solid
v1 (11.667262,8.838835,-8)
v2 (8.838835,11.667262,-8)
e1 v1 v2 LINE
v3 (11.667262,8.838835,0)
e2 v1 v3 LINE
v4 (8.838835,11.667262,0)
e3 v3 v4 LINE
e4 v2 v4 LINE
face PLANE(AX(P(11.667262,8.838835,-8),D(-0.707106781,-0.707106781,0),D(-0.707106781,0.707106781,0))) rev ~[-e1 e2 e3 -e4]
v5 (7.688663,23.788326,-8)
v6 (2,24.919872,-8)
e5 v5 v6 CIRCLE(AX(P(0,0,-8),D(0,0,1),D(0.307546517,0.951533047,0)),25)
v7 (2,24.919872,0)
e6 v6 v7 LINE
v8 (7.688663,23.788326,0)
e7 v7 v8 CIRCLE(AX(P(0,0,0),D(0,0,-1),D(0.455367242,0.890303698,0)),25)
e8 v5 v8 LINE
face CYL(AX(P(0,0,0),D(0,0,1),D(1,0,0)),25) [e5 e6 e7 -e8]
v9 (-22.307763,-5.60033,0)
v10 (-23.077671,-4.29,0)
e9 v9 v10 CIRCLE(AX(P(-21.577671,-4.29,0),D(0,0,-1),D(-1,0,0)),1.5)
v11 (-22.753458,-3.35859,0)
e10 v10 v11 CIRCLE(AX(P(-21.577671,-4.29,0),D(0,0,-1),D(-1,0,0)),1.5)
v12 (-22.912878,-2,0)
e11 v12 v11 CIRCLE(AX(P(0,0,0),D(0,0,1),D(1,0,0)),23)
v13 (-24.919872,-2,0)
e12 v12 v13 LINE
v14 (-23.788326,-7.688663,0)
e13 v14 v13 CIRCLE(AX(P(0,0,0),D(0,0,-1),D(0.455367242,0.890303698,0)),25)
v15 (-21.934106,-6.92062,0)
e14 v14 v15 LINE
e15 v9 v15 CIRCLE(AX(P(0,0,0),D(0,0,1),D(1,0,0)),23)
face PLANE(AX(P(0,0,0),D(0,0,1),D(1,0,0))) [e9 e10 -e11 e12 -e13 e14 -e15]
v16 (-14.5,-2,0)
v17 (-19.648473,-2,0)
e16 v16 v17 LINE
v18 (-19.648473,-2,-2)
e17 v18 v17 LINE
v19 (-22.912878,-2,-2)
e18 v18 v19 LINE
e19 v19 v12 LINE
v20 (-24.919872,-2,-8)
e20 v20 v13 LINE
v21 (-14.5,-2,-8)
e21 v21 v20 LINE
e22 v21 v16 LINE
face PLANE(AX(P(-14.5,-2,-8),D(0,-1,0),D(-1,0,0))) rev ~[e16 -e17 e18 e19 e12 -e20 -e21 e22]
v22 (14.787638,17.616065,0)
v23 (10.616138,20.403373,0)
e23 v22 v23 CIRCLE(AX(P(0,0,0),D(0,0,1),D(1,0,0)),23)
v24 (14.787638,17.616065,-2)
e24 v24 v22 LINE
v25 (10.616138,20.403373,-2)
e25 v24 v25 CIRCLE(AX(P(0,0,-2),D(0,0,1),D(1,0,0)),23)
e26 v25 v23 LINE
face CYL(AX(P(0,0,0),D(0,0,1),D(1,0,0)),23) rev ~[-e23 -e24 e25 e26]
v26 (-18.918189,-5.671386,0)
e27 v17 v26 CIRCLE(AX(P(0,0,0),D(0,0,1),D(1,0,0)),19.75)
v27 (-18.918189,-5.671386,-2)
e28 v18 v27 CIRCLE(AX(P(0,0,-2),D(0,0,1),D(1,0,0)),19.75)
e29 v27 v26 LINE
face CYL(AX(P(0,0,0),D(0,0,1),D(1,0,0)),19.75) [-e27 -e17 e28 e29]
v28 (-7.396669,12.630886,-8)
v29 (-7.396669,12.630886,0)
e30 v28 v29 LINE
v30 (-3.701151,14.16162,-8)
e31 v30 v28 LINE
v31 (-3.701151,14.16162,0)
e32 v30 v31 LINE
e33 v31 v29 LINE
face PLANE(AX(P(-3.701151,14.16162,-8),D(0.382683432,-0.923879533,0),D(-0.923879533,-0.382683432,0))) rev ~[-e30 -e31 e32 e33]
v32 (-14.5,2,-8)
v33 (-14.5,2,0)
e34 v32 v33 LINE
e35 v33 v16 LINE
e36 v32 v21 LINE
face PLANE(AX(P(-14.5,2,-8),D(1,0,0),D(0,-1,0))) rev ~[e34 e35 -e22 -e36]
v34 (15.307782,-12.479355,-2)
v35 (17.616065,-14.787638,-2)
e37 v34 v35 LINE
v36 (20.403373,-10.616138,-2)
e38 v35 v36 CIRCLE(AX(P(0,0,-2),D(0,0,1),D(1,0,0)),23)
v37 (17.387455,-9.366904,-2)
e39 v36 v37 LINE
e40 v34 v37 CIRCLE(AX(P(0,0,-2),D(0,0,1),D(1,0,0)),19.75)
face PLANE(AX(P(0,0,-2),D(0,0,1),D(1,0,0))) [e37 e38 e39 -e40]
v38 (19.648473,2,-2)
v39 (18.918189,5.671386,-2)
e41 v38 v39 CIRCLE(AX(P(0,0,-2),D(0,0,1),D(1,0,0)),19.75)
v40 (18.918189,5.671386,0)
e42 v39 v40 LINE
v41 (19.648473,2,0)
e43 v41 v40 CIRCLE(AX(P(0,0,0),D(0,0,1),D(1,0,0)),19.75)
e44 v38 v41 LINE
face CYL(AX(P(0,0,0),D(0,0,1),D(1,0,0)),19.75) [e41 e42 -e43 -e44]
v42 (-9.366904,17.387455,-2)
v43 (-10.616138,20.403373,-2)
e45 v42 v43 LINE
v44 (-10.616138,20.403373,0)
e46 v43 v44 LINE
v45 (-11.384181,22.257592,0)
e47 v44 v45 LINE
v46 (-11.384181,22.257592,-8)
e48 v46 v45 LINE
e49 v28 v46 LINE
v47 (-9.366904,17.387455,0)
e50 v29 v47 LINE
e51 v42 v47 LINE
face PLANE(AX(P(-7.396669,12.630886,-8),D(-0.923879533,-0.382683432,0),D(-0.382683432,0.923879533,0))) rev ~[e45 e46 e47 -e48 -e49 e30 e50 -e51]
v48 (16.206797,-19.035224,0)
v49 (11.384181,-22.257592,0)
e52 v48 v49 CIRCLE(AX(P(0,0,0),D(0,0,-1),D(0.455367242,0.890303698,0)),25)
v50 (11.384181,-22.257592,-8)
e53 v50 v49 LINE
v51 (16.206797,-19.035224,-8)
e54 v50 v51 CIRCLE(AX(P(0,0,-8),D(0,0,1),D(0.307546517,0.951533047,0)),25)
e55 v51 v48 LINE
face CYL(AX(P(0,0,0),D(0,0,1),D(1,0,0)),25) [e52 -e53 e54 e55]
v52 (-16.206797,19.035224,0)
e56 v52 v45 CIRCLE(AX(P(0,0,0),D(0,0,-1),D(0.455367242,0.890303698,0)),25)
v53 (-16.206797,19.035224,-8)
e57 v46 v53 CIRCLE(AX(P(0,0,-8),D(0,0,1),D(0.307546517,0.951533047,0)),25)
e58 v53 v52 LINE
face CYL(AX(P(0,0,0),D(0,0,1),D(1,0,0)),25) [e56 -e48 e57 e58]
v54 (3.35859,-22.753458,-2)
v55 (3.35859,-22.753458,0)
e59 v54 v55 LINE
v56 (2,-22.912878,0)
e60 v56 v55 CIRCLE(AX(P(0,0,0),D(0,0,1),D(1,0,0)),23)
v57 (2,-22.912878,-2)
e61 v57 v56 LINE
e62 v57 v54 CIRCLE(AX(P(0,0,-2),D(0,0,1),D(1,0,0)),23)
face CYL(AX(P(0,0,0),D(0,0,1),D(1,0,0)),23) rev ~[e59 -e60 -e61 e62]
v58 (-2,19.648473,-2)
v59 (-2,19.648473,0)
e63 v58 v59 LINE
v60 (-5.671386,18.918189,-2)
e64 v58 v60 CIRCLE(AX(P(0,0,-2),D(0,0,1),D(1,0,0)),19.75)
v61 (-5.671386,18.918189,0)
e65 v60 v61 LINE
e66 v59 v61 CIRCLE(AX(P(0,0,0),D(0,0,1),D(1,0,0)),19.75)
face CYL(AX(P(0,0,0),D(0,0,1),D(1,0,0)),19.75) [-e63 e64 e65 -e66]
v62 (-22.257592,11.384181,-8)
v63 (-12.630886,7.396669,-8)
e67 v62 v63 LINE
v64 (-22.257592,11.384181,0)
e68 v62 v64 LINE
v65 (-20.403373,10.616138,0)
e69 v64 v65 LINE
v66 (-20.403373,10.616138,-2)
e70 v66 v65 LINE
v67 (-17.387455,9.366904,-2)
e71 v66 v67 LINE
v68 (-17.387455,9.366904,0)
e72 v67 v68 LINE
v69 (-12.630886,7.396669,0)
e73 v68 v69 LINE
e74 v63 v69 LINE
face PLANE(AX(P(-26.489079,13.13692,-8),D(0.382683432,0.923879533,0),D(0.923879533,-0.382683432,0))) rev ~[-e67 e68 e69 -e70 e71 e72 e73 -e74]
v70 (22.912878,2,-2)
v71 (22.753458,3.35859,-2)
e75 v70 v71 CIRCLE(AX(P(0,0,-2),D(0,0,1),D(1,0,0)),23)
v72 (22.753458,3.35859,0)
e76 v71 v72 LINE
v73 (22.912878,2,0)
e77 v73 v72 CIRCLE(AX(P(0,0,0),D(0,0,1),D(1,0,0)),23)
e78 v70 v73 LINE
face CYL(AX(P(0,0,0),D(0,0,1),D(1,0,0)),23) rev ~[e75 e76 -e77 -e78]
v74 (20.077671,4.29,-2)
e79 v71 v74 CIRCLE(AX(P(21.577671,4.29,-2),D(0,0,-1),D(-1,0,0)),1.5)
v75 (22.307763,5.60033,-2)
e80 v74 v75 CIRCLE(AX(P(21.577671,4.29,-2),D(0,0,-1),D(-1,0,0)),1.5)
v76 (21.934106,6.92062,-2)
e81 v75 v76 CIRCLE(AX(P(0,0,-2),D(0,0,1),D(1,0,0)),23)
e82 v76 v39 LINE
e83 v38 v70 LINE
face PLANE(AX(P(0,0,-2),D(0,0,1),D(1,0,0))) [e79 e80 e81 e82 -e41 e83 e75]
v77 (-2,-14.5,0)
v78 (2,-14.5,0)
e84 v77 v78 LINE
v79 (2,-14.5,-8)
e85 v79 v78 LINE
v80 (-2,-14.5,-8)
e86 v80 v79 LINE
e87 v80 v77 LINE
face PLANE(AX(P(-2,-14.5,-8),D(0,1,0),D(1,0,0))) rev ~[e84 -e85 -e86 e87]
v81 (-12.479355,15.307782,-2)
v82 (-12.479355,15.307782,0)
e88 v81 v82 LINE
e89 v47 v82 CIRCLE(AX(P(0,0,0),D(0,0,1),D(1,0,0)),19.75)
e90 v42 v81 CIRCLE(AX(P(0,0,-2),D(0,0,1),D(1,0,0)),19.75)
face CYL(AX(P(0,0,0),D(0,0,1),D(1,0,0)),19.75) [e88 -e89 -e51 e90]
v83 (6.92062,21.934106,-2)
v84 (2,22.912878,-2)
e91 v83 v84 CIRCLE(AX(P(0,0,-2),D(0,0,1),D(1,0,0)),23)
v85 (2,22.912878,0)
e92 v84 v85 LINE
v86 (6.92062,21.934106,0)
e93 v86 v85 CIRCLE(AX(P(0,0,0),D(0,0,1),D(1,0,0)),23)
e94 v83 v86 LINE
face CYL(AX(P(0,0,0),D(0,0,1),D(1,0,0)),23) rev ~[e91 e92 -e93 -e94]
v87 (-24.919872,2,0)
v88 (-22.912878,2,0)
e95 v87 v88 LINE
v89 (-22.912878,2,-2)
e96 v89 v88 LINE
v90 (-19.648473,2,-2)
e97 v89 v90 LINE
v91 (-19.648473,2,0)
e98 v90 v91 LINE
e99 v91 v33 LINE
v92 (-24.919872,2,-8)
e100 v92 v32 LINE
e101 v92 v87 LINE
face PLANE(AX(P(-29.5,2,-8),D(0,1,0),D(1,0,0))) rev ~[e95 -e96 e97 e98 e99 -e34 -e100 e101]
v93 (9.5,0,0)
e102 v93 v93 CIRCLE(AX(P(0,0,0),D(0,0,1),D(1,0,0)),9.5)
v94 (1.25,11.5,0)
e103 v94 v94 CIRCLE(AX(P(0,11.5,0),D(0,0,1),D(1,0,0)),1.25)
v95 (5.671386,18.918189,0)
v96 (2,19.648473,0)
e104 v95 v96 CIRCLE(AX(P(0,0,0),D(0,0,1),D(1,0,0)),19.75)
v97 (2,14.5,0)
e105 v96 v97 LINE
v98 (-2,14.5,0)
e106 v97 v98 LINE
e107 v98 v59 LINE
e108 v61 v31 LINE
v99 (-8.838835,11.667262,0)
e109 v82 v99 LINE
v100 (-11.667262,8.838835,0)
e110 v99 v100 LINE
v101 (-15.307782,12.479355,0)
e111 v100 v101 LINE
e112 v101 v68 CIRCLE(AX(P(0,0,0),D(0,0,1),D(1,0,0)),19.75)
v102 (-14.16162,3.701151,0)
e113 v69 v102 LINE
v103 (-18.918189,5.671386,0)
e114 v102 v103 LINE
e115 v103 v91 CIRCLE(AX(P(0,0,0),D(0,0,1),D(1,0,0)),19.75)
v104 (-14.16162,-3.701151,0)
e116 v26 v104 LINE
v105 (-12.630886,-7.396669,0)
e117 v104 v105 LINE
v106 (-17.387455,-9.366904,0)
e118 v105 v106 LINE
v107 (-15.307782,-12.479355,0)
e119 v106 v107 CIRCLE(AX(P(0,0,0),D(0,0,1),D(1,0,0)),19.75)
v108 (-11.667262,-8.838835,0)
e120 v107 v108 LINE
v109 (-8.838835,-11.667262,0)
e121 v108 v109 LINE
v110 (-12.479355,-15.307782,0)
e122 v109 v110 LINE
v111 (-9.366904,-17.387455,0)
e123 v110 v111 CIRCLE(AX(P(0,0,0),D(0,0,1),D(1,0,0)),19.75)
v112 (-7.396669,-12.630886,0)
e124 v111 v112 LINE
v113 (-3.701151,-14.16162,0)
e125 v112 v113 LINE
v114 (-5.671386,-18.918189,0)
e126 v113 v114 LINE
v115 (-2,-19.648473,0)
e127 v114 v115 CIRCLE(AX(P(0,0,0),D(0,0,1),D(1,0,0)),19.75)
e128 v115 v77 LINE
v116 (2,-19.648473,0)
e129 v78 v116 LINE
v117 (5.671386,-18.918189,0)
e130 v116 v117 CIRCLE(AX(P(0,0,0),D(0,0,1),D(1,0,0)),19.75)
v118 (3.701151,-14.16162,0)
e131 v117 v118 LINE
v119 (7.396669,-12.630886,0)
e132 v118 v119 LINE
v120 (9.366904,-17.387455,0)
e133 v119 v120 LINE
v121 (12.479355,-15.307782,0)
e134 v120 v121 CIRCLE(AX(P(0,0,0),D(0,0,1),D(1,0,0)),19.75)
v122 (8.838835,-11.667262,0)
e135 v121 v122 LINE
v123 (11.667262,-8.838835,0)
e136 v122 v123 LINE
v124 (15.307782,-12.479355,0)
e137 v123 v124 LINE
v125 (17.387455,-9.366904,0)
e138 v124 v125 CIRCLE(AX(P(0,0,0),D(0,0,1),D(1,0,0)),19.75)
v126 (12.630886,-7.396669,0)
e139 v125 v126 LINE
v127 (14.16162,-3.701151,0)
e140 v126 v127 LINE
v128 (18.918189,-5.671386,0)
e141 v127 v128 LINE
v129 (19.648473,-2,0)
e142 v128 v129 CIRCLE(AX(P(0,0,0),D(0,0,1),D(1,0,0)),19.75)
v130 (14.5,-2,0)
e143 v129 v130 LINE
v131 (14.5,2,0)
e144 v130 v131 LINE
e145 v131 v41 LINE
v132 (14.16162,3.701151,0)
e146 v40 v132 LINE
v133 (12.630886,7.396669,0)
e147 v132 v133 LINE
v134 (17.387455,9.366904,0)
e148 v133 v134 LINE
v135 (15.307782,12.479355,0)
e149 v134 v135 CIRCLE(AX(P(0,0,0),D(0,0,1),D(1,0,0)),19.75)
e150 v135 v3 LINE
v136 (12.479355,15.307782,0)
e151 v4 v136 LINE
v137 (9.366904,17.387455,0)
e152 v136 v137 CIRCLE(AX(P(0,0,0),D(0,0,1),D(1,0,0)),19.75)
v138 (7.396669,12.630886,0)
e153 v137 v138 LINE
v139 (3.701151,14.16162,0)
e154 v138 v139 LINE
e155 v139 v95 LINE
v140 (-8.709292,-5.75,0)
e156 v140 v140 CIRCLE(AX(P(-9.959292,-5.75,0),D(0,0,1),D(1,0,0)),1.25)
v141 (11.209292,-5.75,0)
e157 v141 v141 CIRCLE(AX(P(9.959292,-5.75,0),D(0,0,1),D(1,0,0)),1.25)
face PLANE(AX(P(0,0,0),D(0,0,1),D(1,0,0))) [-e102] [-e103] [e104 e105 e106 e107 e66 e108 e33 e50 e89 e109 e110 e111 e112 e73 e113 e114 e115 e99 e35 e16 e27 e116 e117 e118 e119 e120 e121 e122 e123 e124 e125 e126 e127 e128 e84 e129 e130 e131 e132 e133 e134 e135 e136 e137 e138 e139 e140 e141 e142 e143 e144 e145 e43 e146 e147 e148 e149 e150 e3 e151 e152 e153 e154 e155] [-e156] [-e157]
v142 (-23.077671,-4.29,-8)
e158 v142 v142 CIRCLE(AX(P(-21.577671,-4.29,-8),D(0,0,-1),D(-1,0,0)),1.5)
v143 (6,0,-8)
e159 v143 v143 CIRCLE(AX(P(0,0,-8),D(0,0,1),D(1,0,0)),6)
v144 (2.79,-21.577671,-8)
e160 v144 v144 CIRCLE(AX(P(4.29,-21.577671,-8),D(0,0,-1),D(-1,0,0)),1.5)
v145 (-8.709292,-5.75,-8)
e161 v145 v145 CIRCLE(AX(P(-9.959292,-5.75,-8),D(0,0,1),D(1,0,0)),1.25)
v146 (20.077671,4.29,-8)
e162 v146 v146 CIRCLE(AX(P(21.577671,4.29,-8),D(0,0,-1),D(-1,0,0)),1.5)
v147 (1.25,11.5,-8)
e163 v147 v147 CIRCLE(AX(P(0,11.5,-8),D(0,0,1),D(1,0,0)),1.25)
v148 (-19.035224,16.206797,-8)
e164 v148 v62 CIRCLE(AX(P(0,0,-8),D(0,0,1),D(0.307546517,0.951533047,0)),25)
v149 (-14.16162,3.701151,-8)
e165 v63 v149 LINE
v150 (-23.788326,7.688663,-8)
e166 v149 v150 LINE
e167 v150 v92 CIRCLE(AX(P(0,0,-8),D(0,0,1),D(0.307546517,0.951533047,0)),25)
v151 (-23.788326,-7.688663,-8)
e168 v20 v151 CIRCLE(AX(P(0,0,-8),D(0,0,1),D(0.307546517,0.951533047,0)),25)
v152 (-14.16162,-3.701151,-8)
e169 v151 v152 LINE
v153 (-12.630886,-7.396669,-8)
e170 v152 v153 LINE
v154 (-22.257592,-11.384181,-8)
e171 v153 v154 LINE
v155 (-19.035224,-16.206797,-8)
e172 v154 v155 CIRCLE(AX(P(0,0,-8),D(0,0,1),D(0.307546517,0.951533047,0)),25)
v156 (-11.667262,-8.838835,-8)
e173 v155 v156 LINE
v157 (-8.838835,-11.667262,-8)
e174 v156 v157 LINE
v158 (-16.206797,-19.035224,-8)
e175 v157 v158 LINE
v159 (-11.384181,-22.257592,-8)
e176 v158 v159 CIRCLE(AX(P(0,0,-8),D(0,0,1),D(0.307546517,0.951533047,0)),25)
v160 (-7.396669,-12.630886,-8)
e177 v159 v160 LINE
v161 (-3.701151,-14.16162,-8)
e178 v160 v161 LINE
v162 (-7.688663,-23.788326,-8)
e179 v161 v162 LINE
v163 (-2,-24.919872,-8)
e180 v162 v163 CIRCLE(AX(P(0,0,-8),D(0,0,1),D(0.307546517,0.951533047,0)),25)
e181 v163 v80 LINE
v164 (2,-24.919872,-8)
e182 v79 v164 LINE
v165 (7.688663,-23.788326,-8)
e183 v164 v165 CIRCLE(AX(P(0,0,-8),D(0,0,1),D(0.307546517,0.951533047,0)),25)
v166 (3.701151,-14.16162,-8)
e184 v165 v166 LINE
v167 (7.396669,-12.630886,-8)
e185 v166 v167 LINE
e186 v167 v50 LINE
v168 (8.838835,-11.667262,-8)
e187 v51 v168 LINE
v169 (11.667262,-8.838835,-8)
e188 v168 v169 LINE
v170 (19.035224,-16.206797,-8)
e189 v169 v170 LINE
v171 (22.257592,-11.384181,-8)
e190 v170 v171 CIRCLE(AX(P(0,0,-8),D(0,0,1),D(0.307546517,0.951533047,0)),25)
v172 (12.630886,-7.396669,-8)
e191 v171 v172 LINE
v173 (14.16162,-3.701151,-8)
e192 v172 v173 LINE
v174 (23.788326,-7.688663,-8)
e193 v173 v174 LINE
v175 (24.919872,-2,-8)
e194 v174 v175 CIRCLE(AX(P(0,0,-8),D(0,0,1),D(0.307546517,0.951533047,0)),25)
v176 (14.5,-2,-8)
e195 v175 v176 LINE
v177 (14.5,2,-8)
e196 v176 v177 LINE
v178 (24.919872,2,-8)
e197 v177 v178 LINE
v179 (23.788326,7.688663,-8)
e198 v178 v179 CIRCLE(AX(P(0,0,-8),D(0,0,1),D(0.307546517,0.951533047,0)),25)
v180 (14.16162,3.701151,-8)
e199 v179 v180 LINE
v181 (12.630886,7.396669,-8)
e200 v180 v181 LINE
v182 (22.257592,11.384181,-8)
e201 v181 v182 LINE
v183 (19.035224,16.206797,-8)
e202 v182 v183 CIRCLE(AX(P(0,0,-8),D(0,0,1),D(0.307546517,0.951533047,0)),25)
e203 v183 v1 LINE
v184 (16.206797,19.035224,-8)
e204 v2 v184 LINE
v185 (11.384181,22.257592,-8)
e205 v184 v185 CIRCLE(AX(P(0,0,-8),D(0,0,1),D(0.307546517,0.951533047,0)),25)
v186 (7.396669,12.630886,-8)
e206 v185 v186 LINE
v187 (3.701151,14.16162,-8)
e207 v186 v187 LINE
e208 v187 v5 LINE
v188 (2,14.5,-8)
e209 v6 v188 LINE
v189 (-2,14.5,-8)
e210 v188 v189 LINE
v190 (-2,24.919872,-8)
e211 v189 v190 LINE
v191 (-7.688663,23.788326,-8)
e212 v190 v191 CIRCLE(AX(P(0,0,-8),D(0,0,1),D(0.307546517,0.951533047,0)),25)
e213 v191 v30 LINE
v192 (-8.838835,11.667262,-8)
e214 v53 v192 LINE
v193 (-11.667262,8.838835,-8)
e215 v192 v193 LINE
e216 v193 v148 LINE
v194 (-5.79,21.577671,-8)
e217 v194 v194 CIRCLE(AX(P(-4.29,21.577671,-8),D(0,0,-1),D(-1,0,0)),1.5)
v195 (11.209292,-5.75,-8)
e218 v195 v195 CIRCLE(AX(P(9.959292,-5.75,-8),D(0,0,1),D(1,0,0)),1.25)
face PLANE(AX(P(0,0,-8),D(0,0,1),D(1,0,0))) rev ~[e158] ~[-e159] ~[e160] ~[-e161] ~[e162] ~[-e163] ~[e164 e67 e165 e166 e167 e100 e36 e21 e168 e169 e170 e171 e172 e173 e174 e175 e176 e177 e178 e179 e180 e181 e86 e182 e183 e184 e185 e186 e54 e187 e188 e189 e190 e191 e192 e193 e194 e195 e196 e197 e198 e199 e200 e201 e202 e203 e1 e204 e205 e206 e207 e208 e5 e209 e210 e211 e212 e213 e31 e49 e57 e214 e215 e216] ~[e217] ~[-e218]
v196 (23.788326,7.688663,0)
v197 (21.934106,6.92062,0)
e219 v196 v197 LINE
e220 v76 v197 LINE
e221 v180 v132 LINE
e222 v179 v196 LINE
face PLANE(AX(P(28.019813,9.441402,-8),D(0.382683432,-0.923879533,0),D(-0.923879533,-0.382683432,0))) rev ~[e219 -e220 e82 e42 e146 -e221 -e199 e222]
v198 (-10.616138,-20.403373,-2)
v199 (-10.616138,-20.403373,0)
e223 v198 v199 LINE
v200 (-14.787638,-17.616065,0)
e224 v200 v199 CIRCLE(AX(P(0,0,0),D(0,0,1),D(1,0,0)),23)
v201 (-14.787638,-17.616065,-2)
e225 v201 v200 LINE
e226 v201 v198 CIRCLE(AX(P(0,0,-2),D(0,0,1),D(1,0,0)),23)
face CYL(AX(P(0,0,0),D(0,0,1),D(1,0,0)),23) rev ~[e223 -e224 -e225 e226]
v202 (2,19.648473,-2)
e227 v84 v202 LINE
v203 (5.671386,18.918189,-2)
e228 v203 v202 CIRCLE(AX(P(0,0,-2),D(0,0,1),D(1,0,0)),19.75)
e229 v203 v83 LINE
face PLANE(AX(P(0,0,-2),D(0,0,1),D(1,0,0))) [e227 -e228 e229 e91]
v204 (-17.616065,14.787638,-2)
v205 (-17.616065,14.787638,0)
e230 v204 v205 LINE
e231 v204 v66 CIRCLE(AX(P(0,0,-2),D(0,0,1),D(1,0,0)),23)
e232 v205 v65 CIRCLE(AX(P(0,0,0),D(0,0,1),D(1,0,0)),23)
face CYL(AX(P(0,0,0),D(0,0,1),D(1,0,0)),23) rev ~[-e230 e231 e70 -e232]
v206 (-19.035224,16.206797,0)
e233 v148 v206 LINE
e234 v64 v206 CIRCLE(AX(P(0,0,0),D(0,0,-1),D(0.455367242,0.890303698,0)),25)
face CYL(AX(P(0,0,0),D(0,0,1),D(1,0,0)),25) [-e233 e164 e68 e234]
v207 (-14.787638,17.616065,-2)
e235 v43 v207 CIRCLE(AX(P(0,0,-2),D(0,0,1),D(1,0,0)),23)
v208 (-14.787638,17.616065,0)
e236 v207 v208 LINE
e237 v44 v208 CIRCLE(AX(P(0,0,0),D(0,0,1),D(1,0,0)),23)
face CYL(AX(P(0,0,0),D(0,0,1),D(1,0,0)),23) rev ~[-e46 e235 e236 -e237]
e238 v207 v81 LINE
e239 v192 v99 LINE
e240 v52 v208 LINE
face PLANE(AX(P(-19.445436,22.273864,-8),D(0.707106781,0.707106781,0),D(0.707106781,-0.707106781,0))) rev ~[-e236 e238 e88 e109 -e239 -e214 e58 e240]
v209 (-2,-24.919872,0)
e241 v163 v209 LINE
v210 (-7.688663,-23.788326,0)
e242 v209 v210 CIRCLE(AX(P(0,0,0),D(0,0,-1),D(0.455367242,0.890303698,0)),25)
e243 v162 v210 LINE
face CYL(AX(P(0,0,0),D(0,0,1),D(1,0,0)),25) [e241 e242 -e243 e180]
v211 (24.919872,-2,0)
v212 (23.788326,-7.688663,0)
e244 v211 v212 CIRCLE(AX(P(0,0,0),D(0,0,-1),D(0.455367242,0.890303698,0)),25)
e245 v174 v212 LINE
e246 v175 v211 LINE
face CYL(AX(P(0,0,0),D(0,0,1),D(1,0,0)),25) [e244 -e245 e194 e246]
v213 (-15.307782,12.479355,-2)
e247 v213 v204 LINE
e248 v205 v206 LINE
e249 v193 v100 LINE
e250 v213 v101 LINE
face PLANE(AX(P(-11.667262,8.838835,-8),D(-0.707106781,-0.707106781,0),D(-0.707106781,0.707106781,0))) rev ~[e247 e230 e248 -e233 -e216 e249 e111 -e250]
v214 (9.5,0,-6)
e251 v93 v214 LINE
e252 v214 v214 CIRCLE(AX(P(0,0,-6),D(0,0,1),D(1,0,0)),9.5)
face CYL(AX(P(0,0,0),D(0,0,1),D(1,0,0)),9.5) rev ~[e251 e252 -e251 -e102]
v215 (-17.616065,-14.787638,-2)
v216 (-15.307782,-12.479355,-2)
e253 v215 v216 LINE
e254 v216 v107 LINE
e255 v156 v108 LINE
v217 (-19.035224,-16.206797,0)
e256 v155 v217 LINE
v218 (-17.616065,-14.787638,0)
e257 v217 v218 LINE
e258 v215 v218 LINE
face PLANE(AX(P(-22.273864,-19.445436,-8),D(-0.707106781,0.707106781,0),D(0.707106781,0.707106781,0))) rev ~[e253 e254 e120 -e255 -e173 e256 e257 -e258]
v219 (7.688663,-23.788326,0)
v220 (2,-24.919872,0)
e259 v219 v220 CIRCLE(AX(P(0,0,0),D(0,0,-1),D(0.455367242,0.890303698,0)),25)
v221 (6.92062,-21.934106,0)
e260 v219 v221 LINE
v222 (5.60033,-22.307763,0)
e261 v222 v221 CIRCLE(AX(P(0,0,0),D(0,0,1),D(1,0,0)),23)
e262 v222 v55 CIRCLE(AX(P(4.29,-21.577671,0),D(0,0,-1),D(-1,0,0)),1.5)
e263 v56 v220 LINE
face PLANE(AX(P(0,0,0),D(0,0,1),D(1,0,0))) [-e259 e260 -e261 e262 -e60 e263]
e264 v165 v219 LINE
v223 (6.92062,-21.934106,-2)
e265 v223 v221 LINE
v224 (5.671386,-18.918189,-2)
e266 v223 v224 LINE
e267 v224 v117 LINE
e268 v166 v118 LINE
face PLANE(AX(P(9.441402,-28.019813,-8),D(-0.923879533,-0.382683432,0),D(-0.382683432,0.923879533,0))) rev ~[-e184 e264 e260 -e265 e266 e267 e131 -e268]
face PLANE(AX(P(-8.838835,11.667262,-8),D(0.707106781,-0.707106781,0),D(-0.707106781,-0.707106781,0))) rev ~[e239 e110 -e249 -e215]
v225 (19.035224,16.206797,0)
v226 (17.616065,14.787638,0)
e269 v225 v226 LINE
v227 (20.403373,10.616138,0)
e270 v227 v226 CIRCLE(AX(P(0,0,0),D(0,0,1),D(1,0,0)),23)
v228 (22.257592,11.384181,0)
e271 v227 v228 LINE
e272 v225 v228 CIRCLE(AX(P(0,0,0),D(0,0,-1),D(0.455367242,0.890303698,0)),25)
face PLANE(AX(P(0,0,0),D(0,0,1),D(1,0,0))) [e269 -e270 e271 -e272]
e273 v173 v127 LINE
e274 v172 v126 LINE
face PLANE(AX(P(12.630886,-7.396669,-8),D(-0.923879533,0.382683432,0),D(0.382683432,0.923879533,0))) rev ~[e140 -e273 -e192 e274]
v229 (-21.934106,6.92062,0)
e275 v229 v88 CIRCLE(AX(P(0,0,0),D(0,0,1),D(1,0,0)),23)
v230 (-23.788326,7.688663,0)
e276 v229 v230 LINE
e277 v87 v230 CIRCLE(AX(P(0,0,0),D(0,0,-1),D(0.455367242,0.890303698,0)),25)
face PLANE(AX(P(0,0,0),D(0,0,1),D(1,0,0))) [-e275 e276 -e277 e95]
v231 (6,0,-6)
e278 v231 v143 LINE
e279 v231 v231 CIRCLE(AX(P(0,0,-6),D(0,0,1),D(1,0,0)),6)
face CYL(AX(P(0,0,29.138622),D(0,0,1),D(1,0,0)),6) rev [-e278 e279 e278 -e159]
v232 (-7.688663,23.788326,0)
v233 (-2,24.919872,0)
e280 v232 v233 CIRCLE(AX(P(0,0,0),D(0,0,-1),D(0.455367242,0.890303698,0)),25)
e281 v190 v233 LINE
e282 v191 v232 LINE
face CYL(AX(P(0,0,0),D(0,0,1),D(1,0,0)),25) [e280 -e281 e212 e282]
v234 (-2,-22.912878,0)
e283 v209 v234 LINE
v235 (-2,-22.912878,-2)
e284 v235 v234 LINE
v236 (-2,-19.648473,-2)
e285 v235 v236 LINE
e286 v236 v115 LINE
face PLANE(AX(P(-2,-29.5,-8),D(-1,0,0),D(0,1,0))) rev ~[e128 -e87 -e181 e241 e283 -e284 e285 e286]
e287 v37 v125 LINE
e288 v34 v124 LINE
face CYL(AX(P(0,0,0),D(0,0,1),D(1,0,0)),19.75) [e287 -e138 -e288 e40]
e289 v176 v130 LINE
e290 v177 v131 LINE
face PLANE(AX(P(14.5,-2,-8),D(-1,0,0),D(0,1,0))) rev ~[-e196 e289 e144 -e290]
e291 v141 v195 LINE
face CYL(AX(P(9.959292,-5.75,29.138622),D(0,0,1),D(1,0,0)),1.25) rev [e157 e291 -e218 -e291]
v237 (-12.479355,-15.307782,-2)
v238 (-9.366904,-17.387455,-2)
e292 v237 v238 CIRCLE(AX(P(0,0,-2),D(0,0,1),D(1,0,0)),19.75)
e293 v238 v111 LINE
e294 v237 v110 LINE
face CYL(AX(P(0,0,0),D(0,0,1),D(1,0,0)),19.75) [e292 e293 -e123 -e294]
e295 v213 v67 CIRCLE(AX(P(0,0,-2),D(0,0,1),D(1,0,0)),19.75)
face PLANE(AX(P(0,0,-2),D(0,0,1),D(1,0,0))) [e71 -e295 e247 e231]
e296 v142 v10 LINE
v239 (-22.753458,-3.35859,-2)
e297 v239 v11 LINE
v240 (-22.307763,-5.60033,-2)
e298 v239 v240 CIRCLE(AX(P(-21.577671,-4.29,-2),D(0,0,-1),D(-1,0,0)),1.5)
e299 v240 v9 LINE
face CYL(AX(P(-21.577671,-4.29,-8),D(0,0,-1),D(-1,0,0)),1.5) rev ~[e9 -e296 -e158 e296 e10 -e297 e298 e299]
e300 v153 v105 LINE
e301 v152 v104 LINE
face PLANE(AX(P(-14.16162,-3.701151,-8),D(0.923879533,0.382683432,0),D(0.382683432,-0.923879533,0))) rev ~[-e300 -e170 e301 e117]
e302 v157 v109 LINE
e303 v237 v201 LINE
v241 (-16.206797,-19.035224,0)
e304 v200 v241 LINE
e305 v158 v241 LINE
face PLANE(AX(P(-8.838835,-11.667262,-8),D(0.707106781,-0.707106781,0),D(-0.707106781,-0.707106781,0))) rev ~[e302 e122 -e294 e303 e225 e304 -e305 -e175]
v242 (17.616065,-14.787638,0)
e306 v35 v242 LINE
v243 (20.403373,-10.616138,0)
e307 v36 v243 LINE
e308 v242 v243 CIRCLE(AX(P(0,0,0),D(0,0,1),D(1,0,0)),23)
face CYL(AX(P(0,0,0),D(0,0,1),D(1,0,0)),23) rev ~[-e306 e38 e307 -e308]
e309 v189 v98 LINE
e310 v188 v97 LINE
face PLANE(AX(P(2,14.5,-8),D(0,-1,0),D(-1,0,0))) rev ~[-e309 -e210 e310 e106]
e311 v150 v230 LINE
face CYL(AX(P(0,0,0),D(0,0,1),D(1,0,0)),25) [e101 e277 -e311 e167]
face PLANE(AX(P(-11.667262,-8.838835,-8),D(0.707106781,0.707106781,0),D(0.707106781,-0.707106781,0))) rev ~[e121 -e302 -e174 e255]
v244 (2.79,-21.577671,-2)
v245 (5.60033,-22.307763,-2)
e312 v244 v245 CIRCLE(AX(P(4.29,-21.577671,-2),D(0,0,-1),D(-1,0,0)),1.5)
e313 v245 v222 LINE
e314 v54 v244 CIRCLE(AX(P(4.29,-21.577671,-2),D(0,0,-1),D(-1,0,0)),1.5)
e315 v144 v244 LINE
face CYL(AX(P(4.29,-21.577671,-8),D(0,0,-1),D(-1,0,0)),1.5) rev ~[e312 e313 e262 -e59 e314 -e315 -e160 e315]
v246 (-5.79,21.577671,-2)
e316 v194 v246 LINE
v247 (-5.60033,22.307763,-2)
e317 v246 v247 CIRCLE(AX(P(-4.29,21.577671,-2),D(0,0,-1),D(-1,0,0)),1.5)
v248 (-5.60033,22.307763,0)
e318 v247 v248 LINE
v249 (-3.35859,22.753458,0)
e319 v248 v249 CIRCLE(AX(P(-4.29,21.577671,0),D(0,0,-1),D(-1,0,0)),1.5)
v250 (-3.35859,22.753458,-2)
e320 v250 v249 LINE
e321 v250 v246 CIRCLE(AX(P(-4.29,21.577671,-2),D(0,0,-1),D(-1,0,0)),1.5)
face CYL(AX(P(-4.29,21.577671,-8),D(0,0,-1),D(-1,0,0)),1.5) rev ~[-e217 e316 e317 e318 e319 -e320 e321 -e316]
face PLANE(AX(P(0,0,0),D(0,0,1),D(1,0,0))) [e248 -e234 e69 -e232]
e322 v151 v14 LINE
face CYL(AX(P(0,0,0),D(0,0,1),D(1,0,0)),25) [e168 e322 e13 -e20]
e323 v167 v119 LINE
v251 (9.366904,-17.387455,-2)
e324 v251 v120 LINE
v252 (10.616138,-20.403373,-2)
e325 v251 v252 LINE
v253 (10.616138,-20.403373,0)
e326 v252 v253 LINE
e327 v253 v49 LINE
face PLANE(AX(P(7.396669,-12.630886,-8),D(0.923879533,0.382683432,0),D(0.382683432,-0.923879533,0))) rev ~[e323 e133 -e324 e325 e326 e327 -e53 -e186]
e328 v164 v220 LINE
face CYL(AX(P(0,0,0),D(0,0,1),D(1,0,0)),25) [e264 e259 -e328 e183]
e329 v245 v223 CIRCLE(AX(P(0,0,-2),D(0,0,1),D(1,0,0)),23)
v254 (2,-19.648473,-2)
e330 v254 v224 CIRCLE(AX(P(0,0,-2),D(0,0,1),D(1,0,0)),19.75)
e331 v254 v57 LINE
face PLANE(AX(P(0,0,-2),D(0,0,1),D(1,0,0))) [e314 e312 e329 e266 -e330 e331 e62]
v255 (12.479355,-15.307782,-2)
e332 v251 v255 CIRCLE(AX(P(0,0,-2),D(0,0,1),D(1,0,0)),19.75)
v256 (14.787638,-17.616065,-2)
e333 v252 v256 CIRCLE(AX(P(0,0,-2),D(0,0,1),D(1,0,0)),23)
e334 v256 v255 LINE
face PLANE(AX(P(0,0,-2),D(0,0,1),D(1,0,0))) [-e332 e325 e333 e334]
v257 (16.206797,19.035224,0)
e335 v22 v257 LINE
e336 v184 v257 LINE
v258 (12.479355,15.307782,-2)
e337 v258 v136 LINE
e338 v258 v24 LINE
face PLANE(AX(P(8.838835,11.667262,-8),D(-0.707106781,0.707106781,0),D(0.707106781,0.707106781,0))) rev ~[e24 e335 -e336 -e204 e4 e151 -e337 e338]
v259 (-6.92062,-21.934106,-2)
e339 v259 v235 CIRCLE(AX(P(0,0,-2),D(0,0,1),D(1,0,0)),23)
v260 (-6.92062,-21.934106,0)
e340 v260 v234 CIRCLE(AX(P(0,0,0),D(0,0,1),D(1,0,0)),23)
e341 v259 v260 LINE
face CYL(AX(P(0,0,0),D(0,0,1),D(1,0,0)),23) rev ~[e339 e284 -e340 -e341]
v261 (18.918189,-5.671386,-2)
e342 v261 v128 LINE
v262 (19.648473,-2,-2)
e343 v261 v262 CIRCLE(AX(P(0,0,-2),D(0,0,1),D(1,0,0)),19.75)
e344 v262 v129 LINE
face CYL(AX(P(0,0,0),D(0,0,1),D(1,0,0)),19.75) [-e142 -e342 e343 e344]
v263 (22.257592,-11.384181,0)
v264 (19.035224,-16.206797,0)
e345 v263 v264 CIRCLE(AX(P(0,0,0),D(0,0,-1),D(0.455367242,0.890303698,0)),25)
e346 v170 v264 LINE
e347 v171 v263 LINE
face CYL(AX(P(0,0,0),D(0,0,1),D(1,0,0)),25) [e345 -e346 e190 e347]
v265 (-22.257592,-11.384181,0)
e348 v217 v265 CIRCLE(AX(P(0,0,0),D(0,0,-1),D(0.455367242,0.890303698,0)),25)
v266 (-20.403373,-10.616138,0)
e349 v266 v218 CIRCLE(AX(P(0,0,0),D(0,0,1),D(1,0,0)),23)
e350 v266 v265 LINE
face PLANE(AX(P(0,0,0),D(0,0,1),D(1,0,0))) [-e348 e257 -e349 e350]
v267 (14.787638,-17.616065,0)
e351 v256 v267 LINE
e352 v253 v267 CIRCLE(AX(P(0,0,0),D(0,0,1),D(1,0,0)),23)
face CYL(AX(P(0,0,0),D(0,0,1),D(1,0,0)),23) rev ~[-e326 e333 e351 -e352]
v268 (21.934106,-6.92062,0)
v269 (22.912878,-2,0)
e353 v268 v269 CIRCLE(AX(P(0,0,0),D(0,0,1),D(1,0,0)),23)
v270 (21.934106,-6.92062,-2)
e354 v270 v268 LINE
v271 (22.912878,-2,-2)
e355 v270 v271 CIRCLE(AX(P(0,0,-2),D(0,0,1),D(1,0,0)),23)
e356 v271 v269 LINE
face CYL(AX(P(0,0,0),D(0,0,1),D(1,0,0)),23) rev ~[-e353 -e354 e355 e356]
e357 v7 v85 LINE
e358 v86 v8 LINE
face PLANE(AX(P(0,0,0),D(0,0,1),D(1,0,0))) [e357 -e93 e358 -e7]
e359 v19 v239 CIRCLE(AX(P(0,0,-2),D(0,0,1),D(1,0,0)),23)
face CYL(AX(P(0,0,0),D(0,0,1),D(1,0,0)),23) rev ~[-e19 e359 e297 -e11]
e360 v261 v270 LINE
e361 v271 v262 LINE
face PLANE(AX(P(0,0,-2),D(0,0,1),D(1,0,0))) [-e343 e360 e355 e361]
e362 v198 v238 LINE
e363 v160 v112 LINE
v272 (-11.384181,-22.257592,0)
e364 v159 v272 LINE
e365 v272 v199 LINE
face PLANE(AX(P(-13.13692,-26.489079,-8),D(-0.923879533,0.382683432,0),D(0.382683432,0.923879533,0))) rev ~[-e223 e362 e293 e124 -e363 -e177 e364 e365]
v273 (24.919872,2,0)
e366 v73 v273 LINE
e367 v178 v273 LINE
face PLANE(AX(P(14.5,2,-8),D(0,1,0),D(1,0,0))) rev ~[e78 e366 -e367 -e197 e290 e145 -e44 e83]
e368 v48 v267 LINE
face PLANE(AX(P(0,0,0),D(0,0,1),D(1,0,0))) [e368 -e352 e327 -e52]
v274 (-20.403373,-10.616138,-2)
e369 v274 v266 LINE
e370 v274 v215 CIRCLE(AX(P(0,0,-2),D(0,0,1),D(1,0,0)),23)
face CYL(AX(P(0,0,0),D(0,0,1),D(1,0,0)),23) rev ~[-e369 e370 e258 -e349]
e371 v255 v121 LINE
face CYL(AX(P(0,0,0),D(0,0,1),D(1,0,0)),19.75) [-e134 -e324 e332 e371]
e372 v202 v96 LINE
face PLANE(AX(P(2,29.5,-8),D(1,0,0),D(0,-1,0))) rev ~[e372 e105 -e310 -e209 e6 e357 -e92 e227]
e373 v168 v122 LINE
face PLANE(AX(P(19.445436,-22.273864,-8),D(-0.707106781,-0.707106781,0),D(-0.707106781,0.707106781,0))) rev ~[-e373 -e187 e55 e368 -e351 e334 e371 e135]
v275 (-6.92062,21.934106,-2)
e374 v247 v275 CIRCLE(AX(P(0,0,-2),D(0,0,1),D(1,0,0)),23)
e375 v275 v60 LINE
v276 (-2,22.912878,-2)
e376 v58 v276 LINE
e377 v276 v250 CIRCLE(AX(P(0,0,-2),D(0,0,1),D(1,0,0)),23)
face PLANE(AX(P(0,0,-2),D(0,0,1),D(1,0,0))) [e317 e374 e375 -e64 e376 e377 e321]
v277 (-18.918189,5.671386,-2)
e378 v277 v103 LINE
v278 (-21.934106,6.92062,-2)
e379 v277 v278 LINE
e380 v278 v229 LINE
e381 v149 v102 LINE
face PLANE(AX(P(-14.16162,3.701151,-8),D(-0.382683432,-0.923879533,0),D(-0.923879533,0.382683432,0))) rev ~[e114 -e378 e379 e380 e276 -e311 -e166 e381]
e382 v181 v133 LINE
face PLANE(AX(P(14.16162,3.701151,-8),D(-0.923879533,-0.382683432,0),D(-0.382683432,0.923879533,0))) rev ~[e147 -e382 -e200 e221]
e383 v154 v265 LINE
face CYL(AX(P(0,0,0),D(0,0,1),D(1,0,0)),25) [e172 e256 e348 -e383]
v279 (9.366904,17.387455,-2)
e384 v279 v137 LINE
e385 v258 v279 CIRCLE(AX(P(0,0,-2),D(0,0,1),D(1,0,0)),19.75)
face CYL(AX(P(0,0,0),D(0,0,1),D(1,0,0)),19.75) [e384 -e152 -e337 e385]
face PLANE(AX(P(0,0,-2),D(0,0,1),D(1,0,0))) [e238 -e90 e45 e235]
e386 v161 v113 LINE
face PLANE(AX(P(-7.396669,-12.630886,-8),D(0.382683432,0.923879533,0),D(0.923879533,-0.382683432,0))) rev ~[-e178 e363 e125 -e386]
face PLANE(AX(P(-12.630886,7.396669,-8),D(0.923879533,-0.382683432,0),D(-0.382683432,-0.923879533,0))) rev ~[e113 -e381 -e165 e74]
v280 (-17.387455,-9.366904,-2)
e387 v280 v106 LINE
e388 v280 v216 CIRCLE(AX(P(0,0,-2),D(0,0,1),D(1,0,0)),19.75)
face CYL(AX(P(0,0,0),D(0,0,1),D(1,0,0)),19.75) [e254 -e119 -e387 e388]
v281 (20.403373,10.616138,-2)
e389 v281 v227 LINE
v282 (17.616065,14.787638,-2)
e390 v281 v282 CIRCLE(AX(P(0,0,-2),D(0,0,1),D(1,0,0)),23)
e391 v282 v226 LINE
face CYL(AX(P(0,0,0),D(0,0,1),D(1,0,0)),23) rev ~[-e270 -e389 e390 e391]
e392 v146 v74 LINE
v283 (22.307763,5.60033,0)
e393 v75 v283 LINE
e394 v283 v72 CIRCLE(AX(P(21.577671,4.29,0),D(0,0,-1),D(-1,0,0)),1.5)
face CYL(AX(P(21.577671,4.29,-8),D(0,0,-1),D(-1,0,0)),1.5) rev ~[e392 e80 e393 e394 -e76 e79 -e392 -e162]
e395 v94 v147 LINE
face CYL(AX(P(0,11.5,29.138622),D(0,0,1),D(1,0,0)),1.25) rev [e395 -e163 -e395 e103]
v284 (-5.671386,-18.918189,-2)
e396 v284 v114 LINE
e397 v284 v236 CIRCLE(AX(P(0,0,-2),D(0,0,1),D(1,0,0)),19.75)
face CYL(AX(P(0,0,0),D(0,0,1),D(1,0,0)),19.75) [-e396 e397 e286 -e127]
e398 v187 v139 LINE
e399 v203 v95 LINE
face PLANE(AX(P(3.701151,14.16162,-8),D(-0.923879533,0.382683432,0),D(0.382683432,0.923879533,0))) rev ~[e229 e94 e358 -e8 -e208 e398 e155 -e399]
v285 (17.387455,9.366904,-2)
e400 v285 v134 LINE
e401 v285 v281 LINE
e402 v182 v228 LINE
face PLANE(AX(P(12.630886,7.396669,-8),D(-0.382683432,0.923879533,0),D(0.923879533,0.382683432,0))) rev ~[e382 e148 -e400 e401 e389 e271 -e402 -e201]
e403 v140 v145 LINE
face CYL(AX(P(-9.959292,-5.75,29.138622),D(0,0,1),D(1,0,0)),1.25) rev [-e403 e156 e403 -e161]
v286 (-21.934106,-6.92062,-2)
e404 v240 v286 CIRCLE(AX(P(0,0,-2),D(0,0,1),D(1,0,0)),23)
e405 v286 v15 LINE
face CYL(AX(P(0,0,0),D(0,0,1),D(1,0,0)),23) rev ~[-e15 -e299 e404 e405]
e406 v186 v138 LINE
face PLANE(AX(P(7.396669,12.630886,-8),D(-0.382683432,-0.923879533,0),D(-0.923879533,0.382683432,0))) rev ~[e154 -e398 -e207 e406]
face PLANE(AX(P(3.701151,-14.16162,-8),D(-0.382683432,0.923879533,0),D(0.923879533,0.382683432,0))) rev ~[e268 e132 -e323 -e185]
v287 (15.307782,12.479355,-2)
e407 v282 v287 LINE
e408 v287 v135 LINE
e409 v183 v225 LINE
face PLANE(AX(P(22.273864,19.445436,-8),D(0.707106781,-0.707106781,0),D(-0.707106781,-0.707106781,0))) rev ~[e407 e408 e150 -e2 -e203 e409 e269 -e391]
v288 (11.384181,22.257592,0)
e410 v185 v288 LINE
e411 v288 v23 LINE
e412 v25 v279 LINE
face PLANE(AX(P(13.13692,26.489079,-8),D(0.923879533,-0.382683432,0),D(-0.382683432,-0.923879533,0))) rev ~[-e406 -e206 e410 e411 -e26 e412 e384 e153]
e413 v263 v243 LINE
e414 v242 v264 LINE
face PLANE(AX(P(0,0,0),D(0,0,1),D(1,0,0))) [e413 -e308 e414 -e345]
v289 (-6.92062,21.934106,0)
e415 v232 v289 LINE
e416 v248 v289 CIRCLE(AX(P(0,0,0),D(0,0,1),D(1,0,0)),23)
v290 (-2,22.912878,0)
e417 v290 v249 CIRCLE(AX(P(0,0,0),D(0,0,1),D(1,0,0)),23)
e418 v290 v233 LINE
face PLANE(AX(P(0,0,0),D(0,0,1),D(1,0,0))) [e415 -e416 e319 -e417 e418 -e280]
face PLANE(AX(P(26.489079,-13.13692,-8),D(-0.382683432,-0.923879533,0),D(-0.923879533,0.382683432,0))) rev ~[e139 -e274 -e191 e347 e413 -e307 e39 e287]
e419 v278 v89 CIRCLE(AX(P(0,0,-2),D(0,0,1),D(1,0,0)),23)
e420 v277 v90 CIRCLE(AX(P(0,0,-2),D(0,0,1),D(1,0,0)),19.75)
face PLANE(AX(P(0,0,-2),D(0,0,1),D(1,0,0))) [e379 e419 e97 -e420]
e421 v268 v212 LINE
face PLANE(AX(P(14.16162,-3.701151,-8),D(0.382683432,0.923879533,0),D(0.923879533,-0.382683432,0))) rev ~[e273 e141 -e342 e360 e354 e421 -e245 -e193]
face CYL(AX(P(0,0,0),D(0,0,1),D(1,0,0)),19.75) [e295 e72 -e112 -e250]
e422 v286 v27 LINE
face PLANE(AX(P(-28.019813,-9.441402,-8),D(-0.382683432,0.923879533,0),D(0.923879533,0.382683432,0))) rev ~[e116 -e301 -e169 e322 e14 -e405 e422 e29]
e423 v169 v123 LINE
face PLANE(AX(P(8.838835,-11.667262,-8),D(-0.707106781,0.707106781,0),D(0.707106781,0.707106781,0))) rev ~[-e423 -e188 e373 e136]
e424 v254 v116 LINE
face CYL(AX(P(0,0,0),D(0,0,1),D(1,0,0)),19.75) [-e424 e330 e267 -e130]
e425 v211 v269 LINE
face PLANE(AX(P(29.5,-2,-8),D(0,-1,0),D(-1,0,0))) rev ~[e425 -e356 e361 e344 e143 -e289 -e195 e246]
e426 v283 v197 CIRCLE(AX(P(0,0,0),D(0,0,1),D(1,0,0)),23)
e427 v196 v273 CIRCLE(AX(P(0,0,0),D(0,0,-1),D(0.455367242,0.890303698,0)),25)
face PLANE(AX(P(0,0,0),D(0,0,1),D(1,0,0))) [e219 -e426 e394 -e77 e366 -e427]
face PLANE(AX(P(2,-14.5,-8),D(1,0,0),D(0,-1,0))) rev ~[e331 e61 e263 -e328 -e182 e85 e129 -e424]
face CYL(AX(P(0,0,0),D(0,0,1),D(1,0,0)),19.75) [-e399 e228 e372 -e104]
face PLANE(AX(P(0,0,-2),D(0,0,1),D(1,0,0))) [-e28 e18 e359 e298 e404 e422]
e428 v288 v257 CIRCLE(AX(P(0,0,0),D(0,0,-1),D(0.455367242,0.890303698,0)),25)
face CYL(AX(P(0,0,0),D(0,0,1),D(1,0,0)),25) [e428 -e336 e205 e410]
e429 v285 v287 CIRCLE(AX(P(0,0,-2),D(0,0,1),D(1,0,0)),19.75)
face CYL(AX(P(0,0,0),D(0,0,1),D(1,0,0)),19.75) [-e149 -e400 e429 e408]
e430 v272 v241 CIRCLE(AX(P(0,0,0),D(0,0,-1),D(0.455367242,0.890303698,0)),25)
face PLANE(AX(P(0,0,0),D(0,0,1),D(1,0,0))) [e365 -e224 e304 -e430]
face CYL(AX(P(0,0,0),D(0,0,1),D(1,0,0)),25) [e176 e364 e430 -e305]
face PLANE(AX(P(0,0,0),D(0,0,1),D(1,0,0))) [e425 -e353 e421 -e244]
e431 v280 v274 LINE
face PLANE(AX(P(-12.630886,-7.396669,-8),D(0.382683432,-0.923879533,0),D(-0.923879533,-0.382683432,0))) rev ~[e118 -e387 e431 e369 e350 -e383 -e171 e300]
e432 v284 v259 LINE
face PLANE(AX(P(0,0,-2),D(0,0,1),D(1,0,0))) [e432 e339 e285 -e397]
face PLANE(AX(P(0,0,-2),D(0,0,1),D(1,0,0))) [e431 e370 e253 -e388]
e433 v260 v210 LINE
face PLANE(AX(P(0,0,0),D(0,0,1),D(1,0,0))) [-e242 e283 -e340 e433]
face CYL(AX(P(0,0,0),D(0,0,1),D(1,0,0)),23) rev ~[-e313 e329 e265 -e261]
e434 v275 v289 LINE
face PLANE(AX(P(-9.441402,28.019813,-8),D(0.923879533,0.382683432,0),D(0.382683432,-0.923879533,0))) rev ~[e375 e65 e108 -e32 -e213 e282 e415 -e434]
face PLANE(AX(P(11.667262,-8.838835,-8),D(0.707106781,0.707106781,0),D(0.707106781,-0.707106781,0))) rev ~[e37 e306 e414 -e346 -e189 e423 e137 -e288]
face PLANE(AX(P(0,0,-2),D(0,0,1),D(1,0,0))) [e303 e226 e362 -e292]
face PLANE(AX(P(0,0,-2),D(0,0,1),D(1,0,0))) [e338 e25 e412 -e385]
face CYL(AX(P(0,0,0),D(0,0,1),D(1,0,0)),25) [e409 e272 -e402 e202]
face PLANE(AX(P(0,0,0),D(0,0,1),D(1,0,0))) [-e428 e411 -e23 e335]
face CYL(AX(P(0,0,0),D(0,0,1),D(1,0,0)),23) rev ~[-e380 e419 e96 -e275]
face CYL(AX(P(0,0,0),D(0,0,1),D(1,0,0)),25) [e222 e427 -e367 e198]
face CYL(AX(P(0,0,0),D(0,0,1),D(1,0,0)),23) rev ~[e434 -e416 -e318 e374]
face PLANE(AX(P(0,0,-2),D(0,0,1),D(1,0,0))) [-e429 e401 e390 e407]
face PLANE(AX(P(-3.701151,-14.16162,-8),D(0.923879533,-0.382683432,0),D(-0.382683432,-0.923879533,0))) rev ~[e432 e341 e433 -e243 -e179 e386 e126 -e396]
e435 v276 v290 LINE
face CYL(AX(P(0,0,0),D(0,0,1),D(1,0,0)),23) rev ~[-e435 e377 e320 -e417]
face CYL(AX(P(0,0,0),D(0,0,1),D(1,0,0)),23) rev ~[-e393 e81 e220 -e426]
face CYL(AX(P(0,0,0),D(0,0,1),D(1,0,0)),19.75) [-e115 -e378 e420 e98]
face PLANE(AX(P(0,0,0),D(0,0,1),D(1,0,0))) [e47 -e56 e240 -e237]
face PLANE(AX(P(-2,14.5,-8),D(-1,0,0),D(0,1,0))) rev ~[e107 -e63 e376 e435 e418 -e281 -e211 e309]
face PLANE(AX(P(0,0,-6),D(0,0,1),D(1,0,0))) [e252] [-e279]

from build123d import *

# Parameters (mm, degrees)
ESBO_O1_R                  = 25
EXTRUS_O1_DEPTH            = 8
EXTRUS_O2_DEPTH            = 8
CIRPATTERN1_COUNT          = 16
CORTE_EXTRUS_O2_DEPTH      = 10
CORTE_EXTRUS_O2_DEPTH_BACK = 37.138621999
ESBO_O5_R                  = 1.25
ESBO_O5_R_2                = 6
ESBO_O8_R                  = 23
ESBO_O8_R_2                = 19.75
CORTE_EXTRUS_O4_DEPTH      = 2
ESBO_O9_R                  = 9.5
CORTE_EXTRUS_O5_DEPTH      = 6
ESBO_O10_R                 = 1.5
CORTE_EXTRUS_O6_DEPTH      = 37.138621999


with BuildPart() as part:
    # Esboço1 → Extrusão1 (new body)
    with BuildSketch(Plane.XY):
        Circle(ESBO_O1_R)
    extrude(amount=-EXTRUS_O1_DEPTH)


with BuildPart() as body_2:
    # Esboço2 → Extrusão2 (new, through all)
    with BuildSketch(Plane(origin=(0, 0, -8), x_dir=(-1, 0, 0), z_dir=(0, 0, -1))):
        Polygon((0, 14.5), (2, 14.5), (2, 29.5), (-2, 29.5), (-2, 14.5), align=None)
    extrude(amount=-EXTRUS_O2_DEPTH)


with BuildPart() as cirpattern1_1:
    # CirPattern1: pattern copy
    add(body_2.part.rotate(Axis((0, 0, 0), (0, 0, 1)), 1 * 360 / CIRPATTERN1_COUNT))


with BuildPart() as cirpattern1_2:
    # CirPattern1: pattern copy
    add(body_2.part.rotate(Axis((0, 0, 0), (0, 0, 1)), 2 * 360 / CIRPATTERN1_COUNT))


with BuildPart() as cirpattern1_3:
    # CirPattern1: pattern copy
    add(body_2.part.rotate(Axis((0, 0, 0), (0, 0, 1)), 3 * 360 / CIRPATTERN1_COUNT))


with BuildPart() as cirpattern1_4:
    # CirPattern1: pattern copy
    add(body_2.part.rotate(Axis((0, 0, 0), (0, 0, 1)), 4 * 360 / CIRPATTERN1_COUNT))


with BuildPart() as cirpattern1_5:
    # CirPattern1: pattern copy
    add(body_2.part.rotate(Axis((0, 0, 0), (0, 0, 1)), 5 * 360 / CIRPATTERN1_COUNT))


with BuildPart() as cirpattern1_6:
    # CirPattern1: pattern copy
    add(body_2.part.rotate(Axis((0, 0, 0), (0, 0, 1)), 6 * 360 / CIRPATTERN1_COUNT))


with BuildPart() as cirpattern1_7:
    # CirPattern1: pattern copy
    add(body_2.part.rotate(Axis((0, 0, 0), (0, 0, 1)), 7 * 360 / CIRPATTERN1_COUNT))


with BuildPart() as cirpattern1_8:
    # CirPattern1: pattern copy
    add(body_2.part.rotate(Axis((0, 0, 0), (0, 0, 1)), 8 * 360 / CIRPATTERN1_COUNT))


with BuildPart() as cirpattern1_9:
    # CirPattern1: pattern copy
    add(body_2.part.rotate(Axis((0, 0, 0), (0, 0, 1)), 9 * 360 / CIRPATTERN1_COUNT))


with BuildPart() as cirpattern1_10:
    # CirPattern1: pattern copy
    add(body_2.part.rotate(Axis((0, 0, 0), (0, 0, 1)), 10 * 360 / CIRPATTERN1_COUNT))


with BuildPart() as cirpattern1_11:
    # CirPattern1: pattern copy
    add(body_2.part.rotate(Axis((0, 0, 0), (0, 0, 1)), 11 * 360 / CIRPATTERN1_COUNT))


with BuildPart() as cirpattern1_12:
    # CirPattern1: pattern copy
    add(body_2.part.rotate(Axis((0, 0, 0), (0, 0, 1)), 12 * 360 / CIRPATTERN1_COUNT))


with BuildPart() as cirpattern1_13:
    # CirPattern1: pattern copy
    add(body_2.part.rotate(Axis((0, 0, 0), (0, 0, 1)), 13 * 360 / CIRPATTERN1_COUNT))


with BuildPart() as cirpattern1_14:
    # CirPattern1: pattern copy
    add(body_2.part.rotate(Axis((0, 0, 0), (0, 0, 1)), 14 * 360 / CIRPATTERN1_COUNT))


with BuildPart() as cirpattern1_15:
    # CirPattern1: pattern copy
    add(body_2.part.rotate(Axis((0, 0, 0), (0, 0, 1)), 15 * 360 / CIRPATTERN1_COUNT))


with BuildPart() as part_1:
    add(part.part)

    # Combinar1: cut CirPattern1_15, body 2, CirPattern1_1, CirPattern1_2, CirPattern1_3, CirPattern1_4, CirPattern1_5, CirPattern1_6, CirPattern1_7, CirPattern1_8, CirPattern1_9, CirPattern1_10, CirPattern1_11, CirPattern1_12, CirPattern1_13, CirPattern1_14
    add(cirpattern1_15.part, mode=Mode.SUBTRACT)
    add(body_2.part, mode=Mode.SUBTRACT)
    add(cirpattern1_1.part, mode=Mode.SUBTRACT)
    add(cirpattern1_2.part, mode=Mode.SUBTRACT)
    add(cirpattern1_3.part, mode=Mode.SUBTRACT)
    add(cirpattern1_4.part, mode=Mode.SUBTRACT)
    add(cirpattern1_5.part, mode=Mode.SUBTRACT)
    add(cirpattern1_6.part, mode=Mode.SUBTRACT)
    add(cirpattern1_7.part, mode=Mode.SUBTRACT)
    add(cirpattern1_8.part, mode=Mode.SUBTRACT)
    add(cirpattern1_9.part, mode=Mode.SUBTRACT)
    add(cirpattern1_10.part, mode=Mode.SUBTRACT)
    add(cirpattern1_11.part, mode=Mode.SUBTRACT)
    add(cirpattern1_12.part, mode=Mode.SUBTRACT)
    add(cirpattern1_13.part, mode=Mode.SUBTRACT)
    add(cirpattern1_14.part, mode=Mode.SUBTRACT)

    # Esboço5 → Corte-extrusão2 (cut, two sides: drawn at the far end of the back side and taken through both)
    with BuildSketch(Plane(origin=(0, 0, -8), x_dir=(-1, 0, 0), z_dir=(0, 0, -1)).offset(-CORTE_EXTRUS_O2_DEPTH_BACK)):
        with Locations(Location((0, 11.5, 0), (0, 0, 180))):
            Circle(ESBO_O5_R)
        with Locations(Location((9.959292144, -5.75, 0), (0, 0, 180))):
            Circle(ESBO_O5_R)
        with Locations(Location((-9.959292144, -5.75, 0), (0, 0, 180))):
            Circle(ESBO_O5_R)
        with Locations(Location((0, 0, 0), (0, 0, 180))):
            Circle(ESBO_O5_R_2)
    extrude(amount=CORTE_EXTRUS_O2_DEPTH + CORTE_EXTRUS_O2_DEPTH_BACK, mode=Mode.SUBTRACT)

    # Esboço8 → Corte-extrusão4 (cut)
    with BuildSketch(Plane.XY):
        Circle(ESBO_O8_R)
        Circle(ESBO_O8_R_2, mode=Mode.SUBTRACT)
    extrude(amount=-CORTE_EXTRUS_O4_DEPTH, mode=Mode.SUBTRACT)

    # Esboço9 → Corte-extrusão5 (cut)
    with BuildSketch(Plane.XY):
        Circle(ESBO_O9_R)
    extrude(amount=-CORTE_EXTRUS_O5_DEPTH, mode=Mode.SUBTRACT)

    # Esboço10 → Corte-extrusão6 (cut, through all)
    with BuildSketch(Plane(origin=(0, 0, -8), x_dir=(-1, 0, 0), z_dir=(0, 0, -1))):
        with Locations((-4.29, -21.577671329)):
            Circle(ESBO_O10_R)
        with Locations((-21.577671329, 4.29)):
            Circle(ESBO_O10_R)
        with Locations((4.29, 21.577671329)):
            Circle(ESBO_O10_R)
        with Locations((21.577671329, -4.29)):
            Circle(ESBO_O10_R)
    extrude(amount=-CORTE_EXTRUS_O6_DEPTH, mode=Mode.SUBTRACT)


solid = part_1.part
